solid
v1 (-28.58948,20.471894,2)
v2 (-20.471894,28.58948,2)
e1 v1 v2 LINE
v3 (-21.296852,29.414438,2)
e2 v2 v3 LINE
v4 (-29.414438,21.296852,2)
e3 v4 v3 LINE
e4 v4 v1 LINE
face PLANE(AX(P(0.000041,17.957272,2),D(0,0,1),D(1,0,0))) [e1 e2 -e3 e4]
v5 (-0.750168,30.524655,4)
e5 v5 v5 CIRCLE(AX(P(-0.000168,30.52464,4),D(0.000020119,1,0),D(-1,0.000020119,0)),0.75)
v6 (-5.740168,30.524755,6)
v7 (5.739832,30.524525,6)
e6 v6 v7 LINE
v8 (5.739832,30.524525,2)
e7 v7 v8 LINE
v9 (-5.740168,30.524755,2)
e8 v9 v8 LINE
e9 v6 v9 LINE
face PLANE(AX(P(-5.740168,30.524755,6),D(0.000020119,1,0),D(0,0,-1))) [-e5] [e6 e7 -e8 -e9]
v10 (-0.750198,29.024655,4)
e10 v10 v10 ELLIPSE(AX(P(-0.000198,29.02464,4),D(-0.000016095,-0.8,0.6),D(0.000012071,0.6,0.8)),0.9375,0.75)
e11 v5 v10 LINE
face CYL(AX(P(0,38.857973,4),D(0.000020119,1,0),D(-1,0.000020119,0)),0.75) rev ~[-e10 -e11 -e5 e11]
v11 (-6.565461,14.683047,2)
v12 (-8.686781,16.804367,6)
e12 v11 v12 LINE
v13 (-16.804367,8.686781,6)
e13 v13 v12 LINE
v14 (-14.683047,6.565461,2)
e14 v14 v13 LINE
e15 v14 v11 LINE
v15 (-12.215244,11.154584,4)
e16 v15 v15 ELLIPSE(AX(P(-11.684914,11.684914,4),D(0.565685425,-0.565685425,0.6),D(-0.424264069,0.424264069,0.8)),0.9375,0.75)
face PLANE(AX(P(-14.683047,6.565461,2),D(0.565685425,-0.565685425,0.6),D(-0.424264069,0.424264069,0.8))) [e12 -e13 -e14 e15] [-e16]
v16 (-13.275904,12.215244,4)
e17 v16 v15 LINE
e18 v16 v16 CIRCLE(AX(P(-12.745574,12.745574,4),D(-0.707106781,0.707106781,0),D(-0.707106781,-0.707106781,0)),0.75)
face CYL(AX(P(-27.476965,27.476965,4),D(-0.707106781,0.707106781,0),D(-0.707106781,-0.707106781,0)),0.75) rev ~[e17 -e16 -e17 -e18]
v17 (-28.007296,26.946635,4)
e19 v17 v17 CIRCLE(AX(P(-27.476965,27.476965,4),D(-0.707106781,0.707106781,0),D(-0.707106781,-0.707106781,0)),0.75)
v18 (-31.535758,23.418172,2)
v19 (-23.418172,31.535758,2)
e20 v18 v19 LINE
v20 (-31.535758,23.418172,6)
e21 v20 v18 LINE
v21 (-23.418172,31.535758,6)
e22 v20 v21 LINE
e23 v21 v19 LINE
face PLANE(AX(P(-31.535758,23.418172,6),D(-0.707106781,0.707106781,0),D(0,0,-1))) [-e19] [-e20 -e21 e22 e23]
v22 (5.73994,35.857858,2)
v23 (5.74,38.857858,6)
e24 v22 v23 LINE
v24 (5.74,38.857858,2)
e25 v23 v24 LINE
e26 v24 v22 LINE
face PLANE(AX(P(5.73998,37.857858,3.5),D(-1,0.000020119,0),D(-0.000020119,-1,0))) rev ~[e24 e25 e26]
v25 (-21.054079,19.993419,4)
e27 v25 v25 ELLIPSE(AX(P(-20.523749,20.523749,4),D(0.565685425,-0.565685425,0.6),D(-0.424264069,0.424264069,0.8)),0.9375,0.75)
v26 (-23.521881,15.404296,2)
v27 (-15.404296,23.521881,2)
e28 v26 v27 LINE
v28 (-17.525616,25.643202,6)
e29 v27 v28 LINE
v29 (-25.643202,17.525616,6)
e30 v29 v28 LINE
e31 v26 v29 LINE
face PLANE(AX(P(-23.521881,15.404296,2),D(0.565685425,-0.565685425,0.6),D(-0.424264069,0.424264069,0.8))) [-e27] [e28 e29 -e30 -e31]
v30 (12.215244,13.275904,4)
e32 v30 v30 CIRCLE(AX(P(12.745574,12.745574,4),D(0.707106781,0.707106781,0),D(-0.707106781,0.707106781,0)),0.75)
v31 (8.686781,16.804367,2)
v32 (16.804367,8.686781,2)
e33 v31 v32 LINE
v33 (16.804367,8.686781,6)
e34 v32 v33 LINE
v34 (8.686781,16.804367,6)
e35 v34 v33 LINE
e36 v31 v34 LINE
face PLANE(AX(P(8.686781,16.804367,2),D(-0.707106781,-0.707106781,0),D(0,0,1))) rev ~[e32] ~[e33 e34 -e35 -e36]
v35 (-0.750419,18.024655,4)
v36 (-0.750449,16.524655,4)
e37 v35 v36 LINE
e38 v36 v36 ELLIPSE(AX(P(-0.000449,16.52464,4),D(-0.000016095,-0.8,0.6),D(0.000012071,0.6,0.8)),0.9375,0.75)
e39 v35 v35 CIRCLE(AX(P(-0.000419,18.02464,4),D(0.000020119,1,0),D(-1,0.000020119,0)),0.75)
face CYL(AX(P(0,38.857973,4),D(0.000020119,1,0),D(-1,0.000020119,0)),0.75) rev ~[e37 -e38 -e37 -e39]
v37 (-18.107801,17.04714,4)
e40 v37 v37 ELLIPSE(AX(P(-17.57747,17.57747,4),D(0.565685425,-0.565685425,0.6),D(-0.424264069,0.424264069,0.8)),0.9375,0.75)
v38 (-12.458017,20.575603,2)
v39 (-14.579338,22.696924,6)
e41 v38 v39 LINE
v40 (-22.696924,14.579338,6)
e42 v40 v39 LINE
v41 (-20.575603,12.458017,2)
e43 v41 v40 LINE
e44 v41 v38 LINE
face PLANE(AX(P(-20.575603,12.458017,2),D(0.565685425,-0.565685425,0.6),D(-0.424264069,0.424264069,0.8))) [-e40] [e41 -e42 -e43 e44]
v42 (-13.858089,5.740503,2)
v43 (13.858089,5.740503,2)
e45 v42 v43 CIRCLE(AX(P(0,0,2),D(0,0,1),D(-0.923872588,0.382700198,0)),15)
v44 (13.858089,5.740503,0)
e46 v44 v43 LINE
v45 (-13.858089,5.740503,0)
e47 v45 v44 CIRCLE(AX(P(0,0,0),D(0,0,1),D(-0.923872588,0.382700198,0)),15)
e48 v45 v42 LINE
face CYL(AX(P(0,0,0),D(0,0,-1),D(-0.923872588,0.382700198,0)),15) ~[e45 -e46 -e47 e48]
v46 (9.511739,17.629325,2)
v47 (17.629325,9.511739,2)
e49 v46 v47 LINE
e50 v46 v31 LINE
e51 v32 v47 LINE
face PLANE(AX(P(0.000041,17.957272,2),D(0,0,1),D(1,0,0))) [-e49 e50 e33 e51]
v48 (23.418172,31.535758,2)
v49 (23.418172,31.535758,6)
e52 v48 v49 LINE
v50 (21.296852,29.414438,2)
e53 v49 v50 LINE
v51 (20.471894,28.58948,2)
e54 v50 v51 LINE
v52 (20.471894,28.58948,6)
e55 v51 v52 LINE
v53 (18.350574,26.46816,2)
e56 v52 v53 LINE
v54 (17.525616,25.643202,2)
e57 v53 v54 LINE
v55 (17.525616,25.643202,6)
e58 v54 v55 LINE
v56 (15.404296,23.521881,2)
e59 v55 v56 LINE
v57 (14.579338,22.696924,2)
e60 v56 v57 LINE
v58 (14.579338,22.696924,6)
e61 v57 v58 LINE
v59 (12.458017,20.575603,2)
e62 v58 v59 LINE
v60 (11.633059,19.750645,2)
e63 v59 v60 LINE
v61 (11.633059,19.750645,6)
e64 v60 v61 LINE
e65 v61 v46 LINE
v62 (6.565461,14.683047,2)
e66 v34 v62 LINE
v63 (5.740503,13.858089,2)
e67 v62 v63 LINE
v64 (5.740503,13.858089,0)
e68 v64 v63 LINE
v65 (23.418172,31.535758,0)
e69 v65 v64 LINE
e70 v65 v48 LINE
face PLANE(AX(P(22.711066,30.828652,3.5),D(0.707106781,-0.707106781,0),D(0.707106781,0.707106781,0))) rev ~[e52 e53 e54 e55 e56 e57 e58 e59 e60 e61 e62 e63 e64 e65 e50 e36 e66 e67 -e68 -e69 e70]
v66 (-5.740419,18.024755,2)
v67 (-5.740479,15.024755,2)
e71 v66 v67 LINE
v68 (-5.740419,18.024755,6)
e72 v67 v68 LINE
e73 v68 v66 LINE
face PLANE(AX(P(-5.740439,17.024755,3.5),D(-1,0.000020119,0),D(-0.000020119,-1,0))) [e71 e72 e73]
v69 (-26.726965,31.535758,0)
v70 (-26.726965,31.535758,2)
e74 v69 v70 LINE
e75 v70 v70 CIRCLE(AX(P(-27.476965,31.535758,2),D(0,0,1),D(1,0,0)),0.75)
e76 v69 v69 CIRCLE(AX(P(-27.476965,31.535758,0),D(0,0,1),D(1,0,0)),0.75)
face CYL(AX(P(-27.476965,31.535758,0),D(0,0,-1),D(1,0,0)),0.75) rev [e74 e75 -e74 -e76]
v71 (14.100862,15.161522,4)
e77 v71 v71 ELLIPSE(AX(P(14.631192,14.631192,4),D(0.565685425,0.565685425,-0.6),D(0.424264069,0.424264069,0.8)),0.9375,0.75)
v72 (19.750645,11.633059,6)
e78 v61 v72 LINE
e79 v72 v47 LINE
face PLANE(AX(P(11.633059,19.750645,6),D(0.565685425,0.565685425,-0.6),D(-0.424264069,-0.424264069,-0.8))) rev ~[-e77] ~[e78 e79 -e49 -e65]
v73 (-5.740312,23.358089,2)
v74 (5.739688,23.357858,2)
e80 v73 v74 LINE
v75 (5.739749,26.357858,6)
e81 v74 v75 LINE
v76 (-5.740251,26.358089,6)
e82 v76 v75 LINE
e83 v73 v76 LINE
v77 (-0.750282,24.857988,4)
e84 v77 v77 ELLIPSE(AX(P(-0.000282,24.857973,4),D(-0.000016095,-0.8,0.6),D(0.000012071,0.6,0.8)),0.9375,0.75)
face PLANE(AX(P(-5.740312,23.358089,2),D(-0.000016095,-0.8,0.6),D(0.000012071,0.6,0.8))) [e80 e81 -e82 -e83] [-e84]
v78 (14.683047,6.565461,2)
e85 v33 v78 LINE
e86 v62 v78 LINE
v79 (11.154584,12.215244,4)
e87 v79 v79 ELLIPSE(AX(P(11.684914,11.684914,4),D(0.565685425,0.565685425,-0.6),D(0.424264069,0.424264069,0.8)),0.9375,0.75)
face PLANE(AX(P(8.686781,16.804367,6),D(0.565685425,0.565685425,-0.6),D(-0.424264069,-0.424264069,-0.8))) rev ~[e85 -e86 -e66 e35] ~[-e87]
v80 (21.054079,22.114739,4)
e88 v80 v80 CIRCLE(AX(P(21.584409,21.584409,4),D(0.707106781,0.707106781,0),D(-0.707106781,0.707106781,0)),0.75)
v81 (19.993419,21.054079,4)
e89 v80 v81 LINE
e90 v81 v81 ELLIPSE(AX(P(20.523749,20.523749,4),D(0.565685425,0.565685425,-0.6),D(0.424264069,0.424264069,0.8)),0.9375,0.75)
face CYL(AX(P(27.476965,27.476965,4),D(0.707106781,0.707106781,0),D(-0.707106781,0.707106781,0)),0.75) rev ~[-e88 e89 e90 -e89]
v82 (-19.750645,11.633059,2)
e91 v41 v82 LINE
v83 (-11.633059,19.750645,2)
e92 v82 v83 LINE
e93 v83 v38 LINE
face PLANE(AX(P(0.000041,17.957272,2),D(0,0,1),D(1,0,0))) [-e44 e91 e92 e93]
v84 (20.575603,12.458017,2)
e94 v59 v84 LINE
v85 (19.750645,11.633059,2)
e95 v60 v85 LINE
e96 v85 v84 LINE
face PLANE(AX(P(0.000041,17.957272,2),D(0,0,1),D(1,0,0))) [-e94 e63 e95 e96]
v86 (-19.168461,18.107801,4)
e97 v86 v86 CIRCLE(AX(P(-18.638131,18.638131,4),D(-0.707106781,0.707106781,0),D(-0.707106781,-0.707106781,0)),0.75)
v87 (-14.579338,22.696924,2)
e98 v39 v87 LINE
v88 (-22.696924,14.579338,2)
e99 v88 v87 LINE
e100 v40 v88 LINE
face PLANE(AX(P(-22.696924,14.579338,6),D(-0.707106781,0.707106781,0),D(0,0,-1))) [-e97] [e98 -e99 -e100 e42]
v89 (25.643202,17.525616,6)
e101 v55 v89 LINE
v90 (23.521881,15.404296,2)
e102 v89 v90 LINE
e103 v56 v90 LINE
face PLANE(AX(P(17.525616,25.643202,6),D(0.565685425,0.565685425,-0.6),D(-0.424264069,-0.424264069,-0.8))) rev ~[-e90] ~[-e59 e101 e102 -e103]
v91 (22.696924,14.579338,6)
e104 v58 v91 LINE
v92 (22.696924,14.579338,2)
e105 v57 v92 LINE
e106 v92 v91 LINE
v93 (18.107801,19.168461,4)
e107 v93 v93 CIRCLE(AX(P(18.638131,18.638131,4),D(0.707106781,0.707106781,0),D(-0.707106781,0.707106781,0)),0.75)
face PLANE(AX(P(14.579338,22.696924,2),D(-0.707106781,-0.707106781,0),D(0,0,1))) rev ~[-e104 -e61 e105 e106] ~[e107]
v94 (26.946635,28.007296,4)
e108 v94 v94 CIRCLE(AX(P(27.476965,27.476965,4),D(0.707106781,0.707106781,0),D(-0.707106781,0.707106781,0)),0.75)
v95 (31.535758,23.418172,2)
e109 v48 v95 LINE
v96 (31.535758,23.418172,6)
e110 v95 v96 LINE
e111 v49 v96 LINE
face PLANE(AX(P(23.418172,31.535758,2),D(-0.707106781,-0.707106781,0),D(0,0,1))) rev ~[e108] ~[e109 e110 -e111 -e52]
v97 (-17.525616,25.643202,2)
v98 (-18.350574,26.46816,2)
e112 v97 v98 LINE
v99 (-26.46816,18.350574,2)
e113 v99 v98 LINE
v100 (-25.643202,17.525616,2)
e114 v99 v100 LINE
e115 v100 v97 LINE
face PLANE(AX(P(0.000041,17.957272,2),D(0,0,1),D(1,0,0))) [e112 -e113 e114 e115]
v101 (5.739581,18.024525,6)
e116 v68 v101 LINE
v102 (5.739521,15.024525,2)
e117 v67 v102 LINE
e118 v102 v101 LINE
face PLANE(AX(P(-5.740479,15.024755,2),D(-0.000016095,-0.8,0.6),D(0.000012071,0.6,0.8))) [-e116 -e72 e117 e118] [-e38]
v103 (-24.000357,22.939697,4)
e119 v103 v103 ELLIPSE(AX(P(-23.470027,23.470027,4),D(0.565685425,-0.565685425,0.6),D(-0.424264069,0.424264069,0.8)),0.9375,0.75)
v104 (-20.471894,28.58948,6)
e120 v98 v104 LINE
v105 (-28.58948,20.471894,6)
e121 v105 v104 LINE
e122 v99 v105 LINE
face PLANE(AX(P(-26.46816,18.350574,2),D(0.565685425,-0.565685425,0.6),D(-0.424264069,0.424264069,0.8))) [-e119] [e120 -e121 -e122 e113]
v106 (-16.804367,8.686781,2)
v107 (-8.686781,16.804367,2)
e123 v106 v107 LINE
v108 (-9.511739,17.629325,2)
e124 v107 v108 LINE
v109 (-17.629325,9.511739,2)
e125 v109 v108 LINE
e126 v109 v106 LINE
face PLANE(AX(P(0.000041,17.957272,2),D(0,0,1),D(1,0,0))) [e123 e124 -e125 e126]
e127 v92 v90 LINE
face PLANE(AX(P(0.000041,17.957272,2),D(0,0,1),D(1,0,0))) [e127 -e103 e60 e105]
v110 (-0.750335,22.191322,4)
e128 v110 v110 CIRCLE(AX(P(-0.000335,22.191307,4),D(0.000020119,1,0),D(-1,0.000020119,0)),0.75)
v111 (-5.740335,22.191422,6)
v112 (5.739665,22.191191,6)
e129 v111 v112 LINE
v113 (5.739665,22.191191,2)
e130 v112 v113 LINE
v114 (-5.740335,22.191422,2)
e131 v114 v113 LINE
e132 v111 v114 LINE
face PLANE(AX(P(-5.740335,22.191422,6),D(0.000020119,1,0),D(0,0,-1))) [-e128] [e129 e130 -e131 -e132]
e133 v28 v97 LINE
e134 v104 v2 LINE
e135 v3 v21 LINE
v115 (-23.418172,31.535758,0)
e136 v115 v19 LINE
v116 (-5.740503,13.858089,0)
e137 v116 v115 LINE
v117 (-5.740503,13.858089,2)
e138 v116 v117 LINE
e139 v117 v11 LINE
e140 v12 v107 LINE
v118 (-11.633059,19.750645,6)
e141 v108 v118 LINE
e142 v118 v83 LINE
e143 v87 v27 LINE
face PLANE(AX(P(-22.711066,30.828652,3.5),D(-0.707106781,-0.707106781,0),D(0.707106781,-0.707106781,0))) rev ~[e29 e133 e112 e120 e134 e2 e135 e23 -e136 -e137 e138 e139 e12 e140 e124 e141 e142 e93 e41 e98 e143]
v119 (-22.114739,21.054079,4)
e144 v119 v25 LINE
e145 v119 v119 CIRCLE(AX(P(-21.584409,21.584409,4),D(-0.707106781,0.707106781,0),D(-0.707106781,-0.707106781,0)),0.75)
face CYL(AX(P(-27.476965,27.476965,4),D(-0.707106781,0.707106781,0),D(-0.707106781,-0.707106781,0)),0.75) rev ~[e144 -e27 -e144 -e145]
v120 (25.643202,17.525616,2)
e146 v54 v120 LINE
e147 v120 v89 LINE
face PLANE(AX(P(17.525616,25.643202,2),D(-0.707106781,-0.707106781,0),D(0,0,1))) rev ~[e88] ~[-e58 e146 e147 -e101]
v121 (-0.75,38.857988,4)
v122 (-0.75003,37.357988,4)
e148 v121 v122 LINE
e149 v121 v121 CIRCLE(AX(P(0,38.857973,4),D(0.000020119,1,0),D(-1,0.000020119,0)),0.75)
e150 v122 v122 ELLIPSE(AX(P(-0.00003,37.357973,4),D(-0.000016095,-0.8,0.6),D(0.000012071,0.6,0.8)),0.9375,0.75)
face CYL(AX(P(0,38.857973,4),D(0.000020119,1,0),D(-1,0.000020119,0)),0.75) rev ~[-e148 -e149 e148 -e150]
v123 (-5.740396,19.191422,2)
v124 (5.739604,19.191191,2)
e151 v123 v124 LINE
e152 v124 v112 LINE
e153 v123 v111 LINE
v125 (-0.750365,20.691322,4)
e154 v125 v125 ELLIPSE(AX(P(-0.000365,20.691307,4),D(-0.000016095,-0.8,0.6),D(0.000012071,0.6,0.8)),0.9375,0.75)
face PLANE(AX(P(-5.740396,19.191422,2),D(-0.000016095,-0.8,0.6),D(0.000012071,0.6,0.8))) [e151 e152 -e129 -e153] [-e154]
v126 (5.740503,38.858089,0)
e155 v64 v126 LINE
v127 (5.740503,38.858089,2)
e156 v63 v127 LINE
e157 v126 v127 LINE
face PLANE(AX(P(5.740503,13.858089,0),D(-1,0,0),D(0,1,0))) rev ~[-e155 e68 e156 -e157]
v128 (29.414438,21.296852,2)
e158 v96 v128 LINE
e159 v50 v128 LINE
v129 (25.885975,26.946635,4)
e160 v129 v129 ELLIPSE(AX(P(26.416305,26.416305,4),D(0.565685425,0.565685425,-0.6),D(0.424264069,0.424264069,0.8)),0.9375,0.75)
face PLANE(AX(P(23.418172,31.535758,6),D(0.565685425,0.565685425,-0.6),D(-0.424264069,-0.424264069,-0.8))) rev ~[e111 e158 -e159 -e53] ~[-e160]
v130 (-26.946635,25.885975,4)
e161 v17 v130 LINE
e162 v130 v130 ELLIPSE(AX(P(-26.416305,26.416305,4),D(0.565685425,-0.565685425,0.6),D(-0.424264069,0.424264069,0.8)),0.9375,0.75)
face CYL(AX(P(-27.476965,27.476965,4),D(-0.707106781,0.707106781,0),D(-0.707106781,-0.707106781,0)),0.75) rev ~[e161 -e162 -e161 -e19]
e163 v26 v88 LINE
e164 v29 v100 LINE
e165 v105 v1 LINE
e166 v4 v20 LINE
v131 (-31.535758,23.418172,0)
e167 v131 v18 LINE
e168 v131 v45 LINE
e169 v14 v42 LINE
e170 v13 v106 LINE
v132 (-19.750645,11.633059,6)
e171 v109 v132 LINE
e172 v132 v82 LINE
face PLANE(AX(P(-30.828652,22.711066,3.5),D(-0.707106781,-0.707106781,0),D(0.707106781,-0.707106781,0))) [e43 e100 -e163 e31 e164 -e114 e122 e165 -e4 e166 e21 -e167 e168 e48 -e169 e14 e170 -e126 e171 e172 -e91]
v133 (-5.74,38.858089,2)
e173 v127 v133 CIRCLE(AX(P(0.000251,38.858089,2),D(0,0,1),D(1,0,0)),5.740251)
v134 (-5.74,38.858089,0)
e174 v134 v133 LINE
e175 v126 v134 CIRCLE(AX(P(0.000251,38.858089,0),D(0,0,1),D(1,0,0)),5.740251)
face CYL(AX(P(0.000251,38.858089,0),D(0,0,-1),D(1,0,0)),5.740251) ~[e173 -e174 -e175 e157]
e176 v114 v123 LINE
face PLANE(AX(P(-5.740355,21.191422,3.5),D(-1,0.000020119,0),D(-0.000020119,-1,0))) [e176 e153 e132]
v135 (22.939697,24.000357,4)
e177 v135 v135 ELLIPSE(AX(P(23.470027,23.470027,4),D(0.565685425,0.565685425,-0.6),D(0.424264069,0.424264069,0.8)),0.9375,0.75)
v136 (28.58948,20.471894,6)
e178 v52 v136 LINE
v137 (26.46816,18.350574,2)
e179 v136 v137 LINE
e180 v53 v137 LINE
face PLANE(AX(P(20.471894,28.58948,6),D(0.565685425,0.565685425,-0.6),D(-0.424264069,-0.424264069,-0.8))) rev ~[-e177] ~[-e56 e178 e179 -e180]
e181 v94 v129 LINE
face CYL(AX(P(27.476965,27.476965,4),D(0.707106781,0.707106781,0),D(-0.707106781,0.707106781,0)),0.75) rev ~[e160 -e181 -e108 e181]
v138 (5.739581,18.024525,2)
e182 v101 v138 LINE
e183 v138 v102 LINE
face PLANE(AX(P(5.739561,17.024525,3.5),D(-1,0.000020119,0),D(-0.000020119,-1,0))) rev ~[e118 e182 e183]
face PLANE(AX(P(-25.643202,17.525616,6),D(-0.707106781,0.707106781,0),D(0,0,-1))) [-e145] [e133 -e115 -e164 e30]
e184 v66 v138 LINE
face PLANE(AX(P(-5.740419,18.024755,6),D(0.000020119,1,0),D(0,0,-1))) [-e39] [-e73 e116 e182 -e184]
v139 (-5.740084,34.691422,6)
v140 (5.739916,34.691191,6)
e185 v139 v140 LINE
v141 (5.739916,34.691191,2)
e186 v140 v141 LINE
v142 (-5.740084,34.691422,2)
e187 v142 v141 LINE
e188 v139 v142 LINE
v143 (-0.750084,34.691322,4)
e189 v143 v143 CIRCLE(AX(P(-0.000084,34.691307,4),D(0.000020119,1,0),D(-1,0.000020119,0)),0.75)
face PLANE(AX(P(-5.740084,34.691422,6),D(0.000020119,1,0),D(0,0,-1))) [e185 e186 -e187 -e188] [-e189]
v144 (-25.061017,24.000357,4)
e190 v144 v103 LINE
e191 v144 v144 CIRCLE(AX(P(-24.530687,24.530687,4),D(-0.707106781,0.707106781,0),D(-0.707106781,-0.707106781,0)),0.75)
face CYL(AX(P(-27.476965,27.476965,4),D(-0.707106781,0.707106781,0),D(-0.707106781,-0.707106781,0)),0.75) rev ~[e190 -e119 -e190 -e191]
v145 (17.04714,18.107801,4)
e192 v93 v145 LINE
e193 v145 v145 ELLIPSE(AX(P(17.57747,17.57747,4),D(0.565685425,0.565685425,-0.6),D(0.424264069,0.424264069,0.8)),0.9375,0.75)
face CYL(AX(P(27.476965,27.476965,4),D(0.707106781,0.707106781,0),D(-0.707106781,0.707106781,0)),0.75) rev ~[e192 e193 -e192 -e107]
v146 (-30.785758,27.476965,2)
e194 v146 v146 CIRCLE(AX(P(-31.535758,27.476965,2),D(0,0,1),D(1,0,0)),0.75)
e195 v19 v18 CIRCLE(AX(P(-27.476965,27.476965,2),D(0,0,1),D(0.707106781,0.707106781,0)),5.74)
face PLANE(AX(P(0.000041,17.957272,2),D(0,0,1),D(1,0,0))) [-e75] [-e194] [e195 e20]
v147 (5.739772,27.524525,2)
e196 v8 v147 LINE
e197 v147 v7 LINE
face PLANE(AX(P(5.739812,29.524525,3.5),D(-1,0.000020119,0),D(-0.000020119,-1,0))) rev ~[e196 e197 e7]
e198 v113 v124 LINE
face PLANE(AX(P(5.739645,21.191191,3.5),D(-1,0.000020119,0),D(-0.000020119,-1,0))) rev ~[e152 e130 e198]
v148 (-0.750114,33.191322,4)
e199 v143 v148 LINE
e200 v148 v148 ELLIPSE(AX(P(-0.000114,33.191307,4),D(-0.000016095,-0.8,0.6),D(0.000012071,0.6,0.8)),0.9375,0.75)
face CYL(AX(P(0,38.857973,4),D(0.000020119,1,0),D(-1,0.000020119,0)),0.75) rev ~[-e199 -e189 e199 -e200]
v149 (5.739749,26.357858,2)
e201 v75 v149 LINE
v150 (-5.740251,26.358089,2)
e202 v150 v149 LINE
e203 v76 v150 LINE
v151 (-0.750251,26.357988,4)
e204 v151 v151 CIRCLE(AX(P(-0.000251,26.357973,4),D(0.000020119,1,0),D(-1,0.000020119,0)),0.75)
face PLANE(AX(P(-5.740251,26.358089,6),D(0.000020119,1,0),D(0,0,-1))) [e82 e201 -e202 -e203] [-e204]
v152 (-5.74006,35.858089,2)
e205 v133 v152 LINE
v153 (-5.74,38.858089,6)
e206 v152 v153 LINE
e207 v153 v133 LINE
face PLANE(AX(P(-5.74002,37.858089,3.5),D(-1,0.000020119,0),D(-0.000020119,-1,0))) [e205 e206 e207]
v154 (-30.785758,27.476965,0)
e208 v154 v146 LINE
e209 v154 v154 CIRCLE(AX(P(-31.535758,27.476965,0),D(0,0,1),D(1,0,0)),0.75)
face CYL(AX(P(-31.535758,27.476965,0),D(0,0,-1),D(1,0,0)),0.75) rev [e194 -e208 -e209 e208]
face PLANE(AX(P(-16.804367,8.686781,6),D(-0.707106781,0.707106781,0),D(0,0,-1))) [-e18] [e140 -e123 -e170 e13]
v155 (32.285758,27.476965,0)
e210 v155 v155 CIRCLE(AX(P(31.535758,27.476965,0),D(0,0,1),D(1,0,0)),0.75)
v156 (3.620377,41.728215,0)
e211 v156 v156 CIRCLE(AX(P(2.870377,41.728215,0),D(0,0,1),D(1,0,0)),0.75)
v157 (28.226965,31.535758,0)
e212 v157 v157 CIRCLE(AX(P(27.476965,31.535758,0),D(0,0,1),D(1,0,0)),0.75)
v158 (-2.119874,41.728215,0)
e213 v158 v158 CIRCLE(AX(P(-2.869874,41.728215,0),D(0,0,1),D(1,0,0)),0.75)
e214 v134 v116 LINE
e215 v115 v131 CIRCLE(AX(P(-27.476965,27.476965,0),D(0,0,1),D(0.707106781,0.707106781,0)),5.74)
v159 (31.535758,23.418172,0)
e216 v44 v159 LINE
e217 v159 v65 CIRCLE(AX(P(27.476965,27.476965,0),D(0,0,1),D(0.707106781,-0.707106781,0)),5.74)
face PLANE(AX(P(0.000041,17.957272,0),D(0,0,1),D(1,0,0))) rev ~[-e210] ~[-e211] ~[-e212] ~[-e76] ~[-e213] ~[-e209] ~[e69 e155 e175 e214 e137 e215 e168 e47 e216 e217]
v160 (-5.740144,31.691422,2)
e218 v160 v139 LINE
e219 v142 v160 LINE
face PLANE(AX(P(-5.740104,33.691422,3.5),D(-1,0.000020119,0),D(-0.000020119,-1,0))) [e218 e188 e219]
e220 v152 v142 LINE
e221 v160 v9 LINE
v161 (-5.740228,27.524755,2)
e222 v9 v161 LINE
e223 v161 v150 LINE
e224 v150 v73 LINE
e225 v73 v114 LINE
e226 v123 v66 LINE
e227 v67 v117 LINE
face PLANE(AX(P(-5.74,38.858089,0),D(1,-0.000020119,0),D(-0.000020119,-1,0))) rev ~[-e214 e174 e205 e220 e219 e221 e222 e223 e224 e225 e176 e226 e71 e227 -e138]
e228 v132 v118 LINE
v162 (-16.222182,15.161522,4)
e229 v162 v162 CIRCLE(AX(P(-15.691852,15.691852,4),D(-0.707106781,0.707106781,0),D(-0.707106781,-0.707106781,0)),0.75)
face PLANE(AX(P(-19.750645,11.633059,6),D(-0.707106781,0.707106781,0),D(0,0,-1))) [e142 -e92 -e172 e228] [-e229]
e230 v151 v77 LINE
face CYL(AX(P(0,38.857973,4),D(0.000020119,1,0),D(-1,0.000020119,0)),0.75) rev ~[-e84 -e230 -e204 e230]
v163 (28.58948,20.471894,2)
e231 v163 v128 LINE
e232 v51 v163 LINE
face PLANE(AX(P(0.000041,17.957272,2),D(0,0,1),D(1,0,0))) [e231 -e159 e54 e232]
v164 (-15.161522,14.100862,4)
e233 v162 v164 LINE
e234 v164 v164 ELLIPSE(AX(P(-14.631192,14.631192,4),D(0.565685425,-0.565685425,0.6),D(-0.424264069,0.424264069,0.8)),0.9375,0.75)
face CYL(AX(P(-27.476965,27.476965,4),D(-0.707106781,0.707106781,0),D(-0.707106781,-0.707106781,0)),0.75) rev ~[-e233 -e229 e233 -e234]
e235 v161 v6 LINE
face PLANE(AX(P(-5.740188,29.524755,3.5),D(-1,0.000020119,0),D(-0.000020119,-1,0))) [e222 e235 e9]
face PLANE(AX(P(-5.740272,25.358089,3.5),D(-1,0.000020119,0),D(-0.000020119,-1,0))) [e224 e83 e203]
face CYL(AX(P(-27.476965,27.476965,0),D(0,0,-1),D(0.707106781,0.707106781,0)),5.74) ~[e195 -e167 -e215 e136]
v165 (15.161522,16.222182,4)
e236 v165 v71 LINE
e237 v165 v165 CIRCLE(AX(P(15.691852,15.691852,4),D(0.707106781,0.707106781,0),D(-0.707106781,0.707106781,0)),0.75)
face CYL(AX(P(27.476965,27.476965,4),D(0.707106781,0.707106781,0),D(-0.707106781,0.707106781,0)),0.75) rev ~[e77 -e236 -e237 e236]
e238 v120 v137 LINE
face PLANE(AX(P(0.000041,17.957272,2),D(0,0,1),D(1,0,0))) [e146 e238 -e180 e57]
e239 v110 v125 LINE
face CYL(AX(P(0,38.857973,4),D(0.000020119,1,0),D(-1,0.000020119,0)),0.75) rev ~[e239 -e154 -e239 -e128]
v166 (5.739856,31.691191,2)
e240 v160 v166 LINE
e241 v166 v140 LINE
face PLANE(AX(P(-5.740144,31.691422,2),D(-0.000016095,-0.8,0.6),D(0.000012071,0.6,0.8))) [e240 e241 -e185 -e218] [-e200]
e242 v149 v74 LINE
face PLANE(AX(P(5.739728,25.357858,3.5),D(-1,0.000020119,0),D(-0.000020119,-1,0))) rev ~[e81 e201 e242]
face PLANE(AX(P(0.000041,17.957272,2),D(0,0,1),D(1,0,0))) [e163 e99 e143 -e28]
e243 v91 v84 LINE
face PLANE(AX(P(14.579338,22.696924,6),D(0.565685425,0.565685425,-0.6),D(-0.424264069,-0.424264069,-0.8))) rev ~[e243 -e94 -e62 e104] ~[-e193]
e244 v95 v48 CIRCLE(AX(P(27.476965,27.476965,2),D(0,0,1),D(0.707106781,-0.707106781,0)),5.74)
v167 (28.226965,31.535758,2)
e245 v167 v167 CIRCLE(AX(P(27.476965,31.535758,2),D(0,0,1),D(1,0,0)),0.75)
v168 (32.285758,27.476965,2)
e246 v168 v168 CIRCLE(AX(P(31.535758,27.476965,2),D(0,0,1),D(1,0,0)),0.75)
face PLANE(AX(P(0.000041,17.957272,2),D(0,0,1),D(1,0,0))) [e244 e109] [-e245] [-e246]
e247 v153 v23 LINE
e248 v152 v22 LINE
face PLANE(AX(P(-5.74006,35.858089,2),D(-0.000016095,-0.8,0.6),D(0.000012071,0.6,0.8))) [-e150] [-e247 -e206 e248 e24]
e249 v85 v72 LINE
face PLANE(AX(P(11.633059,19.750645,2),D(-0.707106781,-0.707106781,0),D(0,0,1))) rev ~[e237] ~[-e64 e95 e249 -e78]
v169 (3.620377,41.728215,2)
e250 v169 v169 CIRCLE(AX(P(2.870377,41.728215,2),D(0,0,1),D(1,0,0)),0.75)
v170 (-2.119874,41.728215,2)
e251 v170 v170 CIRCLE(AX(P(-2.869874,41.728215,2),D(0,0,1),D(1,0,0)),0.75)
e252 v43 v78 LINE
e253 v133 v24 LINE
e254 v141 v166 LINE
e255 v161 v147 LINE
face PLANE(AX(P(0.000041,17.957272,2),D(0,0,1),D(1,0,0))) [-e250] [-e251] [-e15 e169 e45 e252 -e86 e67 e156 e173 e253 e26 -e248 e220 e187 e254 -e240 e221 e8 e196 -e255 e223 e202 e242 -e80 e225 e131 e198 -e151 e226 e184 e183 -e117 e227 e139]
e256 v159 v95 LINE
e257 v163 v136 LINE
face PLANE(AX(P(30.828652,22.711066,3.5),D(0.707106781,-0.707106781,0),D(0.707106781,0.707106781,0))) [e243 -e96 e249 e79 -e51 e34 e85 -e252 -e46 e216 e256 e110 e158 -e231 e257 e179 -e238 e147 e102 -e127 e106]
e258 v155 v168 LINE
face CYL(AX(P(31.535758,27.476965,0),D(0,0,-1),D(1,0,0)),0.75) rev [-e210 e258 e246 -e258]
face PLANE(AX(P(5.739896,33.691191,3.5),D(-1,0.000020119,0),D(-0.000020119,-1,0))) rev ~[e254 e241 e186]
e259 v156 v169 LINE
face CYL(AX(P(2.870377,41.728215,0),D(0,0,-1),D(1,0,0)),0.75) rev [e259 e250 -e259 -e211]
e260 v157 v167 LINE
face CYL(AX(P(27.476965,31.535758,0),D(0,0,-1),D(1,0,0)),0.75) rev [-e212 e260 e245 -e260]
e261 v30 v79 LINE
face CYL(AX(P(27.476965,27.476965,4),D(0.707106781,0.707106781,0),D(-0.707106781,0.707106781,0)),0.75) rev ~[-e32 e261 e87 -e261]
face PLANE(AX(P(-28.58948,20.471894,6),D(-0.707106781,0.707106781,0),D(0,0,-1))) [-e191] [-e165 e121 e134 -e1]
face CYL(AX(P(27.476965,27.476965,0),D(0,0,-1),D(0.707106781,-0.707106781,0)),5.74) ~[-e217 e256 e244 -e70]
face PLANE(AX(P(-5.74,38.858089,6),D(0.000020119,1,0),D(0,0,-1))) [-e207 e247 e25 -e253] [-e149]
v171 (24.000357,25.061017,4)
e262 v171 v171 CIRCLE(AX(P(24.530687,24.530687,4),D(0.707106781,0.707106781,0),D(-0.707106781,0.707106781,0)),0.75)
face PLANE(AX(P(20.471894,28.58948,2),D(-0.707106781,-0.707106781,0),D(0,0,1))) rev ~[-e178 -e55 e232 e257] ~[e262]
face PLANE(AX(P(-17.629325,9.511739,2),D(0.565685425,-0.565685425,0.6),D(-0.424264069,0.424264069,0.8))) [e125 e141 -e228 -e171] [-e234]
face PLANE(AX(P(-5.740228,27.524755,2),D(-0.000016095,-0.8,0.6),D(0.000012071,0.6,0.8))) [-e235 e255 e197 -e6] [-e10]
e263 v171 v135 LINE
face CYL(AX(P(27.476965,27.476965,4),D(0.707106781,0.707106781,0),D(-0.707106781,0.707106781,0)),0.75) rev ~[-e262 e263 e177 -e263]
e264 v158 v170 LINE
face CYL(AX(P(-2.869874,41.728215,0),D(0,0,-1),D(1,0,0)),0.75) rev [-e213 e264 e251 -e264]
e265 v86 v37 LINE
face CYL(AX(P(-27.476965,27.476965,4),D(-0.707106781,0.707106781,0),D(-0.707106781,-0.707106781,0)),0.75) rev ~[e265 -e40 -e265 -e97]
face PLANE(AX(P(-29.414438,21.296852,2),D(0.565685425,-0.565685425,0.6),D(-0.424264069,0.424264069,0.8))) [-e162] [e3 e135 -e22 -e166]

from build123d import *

# Parameters (mm, degrees)
F0_R      = 0.75
F1_DEPTH  = 2
F4_DEPTH  = 11.48
F6_DEPTH  = 11.48
F8_DEPTH  = 11.48
F9_R      = 0.75
F10_DEPTH = 25
F11_R     = 0.75
F12_DEPTH = 25
F13_R     = 0.75
F14_DEPTH = 25


with BuildPart() as f1:
    # F0 (on Top) → F1 (new body)
    with BuildSketch(Plane.XY):
        with BuildLine():
            Line((-31.5357583467, 23.4181724987), (-13.8580888171, 5.7405029691))
            ThreePointArc((-13.8580888171, 5.7405029691), (0, -15), (13.8580888171, 5.7405029691))
            Line((13.8580888171, 5.7405029691), (31.5357583467, 23.4181724987))
            ThreePointArc((31.5357583467, 23.4181724987), (31.5357583467, 31.5357583467), (23.4181724987, 31.5357583467))
            Line((23.4181724987, 31.5357583467), (5.7405029691, 13.8580888171))
            Line((5.7405029691, 13.8580888171), (5.7405029691, 38.8580888171))
            ThreePointArc((5.7405029691, 38.8580888171), (0.0002514811, 44.5983403026), (-5.7400000019, 38.858088812))
            Line((-5.7400000019, 38.858088812), (-5.7405029691, 13.8580888171))
            Line((-5.7405029691, 13.8580888171), (-23.4181724987, 31.5357583467))
            ThreePointArc((-23.4181724987, 31.5357583467), (-31.5357583467, 31.5357583467), (-31.5357583467, 23.4181724987))
        make_face()
        with Locations((-31.5357583467, 27.4769654227)):
            Circle(F0_R, mode=Mode.SUBTRACT)
        with Locations((-27.4769654227, 31.5357583467)):
            Circle(F0_R, mode=Mode.SUBTRACT)
        with Locations((-2.8698742604, 41.7282145573)):
            Circle(F0_R, mode=Mode.SUBTRACT)
        with Locations((31.5357583467, 27.4769654227)):
            Circle(F0_R, mode=Mode.SUBTRACT)
        with Locations((2.8703772251, 41.7282145598)):
            Circle(F0_R, mode=Mode.SUBTRACT)
        with Locations((27.4769654227, 31.5357583467)):
            Circle(F0_R, mode=Mode.SUBTRACT)
    extrude(amount=F1_DEPTH)

    # F3 (on face) → F4 (join)
    with BuildSketch(Plane(origin=(-4.058792924, 4.058792924, 0), x_dir=(0.7071067812, 0.7071067812, 0), z_dir=(0.7071067812, -0.7071067812, 0))):
        Polygon((35.8582971537, 2), (38.8582971537, 2), (38.8582971537, 6), align=None)
        Polygon((31.691630487, 2), (34.691630487, 2), (34.691630487, 6), align=None)
        Polygon((27.5249638204, 2), (30.5249638204, 2), (30.5249638204, 6), align=None)
        Polygon((23.3582971537, 2), (26.3582971537, 2), (26.3582971537, 6), align=None)
        Polygon((19.191630487, 2), (22.191630487, 2), (22.191630487, 6), align=None)
        Polygon((15.0249638204, 2), (18.0249638204, 2), (18.0249638204, 6), align=None)
    extrude(amount=F4_DEPTH)

    # F5 (on face) → F6 (join)
    with BuildSketch(Plane(origin=(-5.7407817733, 0.000115497, 0), x_dir=(-2.01187e-05, -0.9999999998, 0), z_dir=(-0.9999999998, 2.01187e-05, 0))):
        Polygon((-38.8579733229, 6), (-38.8579733229, 2), (-35.8579733229, 2), align=None)
        Polygon((-34.6913066562, 6), (-34.6913066562, 2), (-31.6913066562, 2), align=None)
        Polygon((-30.5246399896, 6), (-30.5246399896, 2), (-27.5246399896, 2), align=None)
        Polygon((-26.3579733229, 6), (-26.3579733229, 2), (-23.3579733229, 2), align=None)
        Polygon((-22.1913066562, 6), (-22.1913066562, 2), (-19.1913066562, 2), align=None)
        Polygon((-18.0246399896, 6), (-18.0246399896, 2), (-15.0246399896, 2), align=None)
    extrude(amount=-F6_DEPTH)

    # F7 (on face) → F8 (join)
    with BuildSketch(Plane(origin=(-4.058792924, -4.058792924, 0), x_dir=(0.7071067812, -0.7071067812, 0), z_dir=(-0.7071067812, -0.7071067812, 0))):
        Polygon((-38.8582971537, 6), (-38.8582971537, 2), (-35.8582971537, 2), align=None)
        Polygon((-31.691630487, 2), (-34.691630487, 6), (-34.691630487, 2), align=None)
        Polygon((-27.5249638204, 2), (-30.5249638204, 6), (-30.5249638204, 2), align=None)
        Polygon((-23.3582971537, 2), (-26.3582971537, 6), (-26.3582971537, 2), align=None)
        Polygon((-19.191630487, 2), (-22.191630487, 6), (-22.191630487, 2), align=None)
        Polygon((-15.0249638204, 2), (-18.0249638204, 6), (-18.0249638204, 2), align=None)
    extrude(amount=-F8_DEPTH)

    # F9 (on face) → F10 (cut)
    with BuildSketch(Plane(origin=(-27.4769654227, 27.4769654227, 0), x_dir=(-0.7071067812, -0.7071067812, 0), z_dir=(-0.7071067812, 0.7071067812, 0))):
        with Locations((0, 4)):
            Circle(F9_R)
    extrude(amount=-F10_DEPTH, mode=Mode.SUBTRACT)

    # F11 (on face) → F12 (cut)
    with BuildSketch(Plane(origin=(0.0007817714, 38.857973315, 0), x_dir=(-0.9999999998, 2.01187e-05, 0), z_dir=(2.01187e-05, 0.9999999998, 0))):
        with Locations((0.0007817745, 4)):
            Circle(F11_R)
    extrude(amount=-F12_DEPTH, mode=Mode.SUBTRACT)

    # F13 (on face) → F14 (cut)
    with BuildSketch(Plane(origin=(27.4769654227, 27.4769654227, 0), x_dir=(-0.7071067812, 0.7071067812, 0), z_dir=(0.7071067812, 0.7071067812, 0))):
        with Locations((0, 4)):
            Circle(F13_R)
    extrude(amount=-F14_DEPTH, mode=Mode.SUBTRACT)


solid = f1.part
